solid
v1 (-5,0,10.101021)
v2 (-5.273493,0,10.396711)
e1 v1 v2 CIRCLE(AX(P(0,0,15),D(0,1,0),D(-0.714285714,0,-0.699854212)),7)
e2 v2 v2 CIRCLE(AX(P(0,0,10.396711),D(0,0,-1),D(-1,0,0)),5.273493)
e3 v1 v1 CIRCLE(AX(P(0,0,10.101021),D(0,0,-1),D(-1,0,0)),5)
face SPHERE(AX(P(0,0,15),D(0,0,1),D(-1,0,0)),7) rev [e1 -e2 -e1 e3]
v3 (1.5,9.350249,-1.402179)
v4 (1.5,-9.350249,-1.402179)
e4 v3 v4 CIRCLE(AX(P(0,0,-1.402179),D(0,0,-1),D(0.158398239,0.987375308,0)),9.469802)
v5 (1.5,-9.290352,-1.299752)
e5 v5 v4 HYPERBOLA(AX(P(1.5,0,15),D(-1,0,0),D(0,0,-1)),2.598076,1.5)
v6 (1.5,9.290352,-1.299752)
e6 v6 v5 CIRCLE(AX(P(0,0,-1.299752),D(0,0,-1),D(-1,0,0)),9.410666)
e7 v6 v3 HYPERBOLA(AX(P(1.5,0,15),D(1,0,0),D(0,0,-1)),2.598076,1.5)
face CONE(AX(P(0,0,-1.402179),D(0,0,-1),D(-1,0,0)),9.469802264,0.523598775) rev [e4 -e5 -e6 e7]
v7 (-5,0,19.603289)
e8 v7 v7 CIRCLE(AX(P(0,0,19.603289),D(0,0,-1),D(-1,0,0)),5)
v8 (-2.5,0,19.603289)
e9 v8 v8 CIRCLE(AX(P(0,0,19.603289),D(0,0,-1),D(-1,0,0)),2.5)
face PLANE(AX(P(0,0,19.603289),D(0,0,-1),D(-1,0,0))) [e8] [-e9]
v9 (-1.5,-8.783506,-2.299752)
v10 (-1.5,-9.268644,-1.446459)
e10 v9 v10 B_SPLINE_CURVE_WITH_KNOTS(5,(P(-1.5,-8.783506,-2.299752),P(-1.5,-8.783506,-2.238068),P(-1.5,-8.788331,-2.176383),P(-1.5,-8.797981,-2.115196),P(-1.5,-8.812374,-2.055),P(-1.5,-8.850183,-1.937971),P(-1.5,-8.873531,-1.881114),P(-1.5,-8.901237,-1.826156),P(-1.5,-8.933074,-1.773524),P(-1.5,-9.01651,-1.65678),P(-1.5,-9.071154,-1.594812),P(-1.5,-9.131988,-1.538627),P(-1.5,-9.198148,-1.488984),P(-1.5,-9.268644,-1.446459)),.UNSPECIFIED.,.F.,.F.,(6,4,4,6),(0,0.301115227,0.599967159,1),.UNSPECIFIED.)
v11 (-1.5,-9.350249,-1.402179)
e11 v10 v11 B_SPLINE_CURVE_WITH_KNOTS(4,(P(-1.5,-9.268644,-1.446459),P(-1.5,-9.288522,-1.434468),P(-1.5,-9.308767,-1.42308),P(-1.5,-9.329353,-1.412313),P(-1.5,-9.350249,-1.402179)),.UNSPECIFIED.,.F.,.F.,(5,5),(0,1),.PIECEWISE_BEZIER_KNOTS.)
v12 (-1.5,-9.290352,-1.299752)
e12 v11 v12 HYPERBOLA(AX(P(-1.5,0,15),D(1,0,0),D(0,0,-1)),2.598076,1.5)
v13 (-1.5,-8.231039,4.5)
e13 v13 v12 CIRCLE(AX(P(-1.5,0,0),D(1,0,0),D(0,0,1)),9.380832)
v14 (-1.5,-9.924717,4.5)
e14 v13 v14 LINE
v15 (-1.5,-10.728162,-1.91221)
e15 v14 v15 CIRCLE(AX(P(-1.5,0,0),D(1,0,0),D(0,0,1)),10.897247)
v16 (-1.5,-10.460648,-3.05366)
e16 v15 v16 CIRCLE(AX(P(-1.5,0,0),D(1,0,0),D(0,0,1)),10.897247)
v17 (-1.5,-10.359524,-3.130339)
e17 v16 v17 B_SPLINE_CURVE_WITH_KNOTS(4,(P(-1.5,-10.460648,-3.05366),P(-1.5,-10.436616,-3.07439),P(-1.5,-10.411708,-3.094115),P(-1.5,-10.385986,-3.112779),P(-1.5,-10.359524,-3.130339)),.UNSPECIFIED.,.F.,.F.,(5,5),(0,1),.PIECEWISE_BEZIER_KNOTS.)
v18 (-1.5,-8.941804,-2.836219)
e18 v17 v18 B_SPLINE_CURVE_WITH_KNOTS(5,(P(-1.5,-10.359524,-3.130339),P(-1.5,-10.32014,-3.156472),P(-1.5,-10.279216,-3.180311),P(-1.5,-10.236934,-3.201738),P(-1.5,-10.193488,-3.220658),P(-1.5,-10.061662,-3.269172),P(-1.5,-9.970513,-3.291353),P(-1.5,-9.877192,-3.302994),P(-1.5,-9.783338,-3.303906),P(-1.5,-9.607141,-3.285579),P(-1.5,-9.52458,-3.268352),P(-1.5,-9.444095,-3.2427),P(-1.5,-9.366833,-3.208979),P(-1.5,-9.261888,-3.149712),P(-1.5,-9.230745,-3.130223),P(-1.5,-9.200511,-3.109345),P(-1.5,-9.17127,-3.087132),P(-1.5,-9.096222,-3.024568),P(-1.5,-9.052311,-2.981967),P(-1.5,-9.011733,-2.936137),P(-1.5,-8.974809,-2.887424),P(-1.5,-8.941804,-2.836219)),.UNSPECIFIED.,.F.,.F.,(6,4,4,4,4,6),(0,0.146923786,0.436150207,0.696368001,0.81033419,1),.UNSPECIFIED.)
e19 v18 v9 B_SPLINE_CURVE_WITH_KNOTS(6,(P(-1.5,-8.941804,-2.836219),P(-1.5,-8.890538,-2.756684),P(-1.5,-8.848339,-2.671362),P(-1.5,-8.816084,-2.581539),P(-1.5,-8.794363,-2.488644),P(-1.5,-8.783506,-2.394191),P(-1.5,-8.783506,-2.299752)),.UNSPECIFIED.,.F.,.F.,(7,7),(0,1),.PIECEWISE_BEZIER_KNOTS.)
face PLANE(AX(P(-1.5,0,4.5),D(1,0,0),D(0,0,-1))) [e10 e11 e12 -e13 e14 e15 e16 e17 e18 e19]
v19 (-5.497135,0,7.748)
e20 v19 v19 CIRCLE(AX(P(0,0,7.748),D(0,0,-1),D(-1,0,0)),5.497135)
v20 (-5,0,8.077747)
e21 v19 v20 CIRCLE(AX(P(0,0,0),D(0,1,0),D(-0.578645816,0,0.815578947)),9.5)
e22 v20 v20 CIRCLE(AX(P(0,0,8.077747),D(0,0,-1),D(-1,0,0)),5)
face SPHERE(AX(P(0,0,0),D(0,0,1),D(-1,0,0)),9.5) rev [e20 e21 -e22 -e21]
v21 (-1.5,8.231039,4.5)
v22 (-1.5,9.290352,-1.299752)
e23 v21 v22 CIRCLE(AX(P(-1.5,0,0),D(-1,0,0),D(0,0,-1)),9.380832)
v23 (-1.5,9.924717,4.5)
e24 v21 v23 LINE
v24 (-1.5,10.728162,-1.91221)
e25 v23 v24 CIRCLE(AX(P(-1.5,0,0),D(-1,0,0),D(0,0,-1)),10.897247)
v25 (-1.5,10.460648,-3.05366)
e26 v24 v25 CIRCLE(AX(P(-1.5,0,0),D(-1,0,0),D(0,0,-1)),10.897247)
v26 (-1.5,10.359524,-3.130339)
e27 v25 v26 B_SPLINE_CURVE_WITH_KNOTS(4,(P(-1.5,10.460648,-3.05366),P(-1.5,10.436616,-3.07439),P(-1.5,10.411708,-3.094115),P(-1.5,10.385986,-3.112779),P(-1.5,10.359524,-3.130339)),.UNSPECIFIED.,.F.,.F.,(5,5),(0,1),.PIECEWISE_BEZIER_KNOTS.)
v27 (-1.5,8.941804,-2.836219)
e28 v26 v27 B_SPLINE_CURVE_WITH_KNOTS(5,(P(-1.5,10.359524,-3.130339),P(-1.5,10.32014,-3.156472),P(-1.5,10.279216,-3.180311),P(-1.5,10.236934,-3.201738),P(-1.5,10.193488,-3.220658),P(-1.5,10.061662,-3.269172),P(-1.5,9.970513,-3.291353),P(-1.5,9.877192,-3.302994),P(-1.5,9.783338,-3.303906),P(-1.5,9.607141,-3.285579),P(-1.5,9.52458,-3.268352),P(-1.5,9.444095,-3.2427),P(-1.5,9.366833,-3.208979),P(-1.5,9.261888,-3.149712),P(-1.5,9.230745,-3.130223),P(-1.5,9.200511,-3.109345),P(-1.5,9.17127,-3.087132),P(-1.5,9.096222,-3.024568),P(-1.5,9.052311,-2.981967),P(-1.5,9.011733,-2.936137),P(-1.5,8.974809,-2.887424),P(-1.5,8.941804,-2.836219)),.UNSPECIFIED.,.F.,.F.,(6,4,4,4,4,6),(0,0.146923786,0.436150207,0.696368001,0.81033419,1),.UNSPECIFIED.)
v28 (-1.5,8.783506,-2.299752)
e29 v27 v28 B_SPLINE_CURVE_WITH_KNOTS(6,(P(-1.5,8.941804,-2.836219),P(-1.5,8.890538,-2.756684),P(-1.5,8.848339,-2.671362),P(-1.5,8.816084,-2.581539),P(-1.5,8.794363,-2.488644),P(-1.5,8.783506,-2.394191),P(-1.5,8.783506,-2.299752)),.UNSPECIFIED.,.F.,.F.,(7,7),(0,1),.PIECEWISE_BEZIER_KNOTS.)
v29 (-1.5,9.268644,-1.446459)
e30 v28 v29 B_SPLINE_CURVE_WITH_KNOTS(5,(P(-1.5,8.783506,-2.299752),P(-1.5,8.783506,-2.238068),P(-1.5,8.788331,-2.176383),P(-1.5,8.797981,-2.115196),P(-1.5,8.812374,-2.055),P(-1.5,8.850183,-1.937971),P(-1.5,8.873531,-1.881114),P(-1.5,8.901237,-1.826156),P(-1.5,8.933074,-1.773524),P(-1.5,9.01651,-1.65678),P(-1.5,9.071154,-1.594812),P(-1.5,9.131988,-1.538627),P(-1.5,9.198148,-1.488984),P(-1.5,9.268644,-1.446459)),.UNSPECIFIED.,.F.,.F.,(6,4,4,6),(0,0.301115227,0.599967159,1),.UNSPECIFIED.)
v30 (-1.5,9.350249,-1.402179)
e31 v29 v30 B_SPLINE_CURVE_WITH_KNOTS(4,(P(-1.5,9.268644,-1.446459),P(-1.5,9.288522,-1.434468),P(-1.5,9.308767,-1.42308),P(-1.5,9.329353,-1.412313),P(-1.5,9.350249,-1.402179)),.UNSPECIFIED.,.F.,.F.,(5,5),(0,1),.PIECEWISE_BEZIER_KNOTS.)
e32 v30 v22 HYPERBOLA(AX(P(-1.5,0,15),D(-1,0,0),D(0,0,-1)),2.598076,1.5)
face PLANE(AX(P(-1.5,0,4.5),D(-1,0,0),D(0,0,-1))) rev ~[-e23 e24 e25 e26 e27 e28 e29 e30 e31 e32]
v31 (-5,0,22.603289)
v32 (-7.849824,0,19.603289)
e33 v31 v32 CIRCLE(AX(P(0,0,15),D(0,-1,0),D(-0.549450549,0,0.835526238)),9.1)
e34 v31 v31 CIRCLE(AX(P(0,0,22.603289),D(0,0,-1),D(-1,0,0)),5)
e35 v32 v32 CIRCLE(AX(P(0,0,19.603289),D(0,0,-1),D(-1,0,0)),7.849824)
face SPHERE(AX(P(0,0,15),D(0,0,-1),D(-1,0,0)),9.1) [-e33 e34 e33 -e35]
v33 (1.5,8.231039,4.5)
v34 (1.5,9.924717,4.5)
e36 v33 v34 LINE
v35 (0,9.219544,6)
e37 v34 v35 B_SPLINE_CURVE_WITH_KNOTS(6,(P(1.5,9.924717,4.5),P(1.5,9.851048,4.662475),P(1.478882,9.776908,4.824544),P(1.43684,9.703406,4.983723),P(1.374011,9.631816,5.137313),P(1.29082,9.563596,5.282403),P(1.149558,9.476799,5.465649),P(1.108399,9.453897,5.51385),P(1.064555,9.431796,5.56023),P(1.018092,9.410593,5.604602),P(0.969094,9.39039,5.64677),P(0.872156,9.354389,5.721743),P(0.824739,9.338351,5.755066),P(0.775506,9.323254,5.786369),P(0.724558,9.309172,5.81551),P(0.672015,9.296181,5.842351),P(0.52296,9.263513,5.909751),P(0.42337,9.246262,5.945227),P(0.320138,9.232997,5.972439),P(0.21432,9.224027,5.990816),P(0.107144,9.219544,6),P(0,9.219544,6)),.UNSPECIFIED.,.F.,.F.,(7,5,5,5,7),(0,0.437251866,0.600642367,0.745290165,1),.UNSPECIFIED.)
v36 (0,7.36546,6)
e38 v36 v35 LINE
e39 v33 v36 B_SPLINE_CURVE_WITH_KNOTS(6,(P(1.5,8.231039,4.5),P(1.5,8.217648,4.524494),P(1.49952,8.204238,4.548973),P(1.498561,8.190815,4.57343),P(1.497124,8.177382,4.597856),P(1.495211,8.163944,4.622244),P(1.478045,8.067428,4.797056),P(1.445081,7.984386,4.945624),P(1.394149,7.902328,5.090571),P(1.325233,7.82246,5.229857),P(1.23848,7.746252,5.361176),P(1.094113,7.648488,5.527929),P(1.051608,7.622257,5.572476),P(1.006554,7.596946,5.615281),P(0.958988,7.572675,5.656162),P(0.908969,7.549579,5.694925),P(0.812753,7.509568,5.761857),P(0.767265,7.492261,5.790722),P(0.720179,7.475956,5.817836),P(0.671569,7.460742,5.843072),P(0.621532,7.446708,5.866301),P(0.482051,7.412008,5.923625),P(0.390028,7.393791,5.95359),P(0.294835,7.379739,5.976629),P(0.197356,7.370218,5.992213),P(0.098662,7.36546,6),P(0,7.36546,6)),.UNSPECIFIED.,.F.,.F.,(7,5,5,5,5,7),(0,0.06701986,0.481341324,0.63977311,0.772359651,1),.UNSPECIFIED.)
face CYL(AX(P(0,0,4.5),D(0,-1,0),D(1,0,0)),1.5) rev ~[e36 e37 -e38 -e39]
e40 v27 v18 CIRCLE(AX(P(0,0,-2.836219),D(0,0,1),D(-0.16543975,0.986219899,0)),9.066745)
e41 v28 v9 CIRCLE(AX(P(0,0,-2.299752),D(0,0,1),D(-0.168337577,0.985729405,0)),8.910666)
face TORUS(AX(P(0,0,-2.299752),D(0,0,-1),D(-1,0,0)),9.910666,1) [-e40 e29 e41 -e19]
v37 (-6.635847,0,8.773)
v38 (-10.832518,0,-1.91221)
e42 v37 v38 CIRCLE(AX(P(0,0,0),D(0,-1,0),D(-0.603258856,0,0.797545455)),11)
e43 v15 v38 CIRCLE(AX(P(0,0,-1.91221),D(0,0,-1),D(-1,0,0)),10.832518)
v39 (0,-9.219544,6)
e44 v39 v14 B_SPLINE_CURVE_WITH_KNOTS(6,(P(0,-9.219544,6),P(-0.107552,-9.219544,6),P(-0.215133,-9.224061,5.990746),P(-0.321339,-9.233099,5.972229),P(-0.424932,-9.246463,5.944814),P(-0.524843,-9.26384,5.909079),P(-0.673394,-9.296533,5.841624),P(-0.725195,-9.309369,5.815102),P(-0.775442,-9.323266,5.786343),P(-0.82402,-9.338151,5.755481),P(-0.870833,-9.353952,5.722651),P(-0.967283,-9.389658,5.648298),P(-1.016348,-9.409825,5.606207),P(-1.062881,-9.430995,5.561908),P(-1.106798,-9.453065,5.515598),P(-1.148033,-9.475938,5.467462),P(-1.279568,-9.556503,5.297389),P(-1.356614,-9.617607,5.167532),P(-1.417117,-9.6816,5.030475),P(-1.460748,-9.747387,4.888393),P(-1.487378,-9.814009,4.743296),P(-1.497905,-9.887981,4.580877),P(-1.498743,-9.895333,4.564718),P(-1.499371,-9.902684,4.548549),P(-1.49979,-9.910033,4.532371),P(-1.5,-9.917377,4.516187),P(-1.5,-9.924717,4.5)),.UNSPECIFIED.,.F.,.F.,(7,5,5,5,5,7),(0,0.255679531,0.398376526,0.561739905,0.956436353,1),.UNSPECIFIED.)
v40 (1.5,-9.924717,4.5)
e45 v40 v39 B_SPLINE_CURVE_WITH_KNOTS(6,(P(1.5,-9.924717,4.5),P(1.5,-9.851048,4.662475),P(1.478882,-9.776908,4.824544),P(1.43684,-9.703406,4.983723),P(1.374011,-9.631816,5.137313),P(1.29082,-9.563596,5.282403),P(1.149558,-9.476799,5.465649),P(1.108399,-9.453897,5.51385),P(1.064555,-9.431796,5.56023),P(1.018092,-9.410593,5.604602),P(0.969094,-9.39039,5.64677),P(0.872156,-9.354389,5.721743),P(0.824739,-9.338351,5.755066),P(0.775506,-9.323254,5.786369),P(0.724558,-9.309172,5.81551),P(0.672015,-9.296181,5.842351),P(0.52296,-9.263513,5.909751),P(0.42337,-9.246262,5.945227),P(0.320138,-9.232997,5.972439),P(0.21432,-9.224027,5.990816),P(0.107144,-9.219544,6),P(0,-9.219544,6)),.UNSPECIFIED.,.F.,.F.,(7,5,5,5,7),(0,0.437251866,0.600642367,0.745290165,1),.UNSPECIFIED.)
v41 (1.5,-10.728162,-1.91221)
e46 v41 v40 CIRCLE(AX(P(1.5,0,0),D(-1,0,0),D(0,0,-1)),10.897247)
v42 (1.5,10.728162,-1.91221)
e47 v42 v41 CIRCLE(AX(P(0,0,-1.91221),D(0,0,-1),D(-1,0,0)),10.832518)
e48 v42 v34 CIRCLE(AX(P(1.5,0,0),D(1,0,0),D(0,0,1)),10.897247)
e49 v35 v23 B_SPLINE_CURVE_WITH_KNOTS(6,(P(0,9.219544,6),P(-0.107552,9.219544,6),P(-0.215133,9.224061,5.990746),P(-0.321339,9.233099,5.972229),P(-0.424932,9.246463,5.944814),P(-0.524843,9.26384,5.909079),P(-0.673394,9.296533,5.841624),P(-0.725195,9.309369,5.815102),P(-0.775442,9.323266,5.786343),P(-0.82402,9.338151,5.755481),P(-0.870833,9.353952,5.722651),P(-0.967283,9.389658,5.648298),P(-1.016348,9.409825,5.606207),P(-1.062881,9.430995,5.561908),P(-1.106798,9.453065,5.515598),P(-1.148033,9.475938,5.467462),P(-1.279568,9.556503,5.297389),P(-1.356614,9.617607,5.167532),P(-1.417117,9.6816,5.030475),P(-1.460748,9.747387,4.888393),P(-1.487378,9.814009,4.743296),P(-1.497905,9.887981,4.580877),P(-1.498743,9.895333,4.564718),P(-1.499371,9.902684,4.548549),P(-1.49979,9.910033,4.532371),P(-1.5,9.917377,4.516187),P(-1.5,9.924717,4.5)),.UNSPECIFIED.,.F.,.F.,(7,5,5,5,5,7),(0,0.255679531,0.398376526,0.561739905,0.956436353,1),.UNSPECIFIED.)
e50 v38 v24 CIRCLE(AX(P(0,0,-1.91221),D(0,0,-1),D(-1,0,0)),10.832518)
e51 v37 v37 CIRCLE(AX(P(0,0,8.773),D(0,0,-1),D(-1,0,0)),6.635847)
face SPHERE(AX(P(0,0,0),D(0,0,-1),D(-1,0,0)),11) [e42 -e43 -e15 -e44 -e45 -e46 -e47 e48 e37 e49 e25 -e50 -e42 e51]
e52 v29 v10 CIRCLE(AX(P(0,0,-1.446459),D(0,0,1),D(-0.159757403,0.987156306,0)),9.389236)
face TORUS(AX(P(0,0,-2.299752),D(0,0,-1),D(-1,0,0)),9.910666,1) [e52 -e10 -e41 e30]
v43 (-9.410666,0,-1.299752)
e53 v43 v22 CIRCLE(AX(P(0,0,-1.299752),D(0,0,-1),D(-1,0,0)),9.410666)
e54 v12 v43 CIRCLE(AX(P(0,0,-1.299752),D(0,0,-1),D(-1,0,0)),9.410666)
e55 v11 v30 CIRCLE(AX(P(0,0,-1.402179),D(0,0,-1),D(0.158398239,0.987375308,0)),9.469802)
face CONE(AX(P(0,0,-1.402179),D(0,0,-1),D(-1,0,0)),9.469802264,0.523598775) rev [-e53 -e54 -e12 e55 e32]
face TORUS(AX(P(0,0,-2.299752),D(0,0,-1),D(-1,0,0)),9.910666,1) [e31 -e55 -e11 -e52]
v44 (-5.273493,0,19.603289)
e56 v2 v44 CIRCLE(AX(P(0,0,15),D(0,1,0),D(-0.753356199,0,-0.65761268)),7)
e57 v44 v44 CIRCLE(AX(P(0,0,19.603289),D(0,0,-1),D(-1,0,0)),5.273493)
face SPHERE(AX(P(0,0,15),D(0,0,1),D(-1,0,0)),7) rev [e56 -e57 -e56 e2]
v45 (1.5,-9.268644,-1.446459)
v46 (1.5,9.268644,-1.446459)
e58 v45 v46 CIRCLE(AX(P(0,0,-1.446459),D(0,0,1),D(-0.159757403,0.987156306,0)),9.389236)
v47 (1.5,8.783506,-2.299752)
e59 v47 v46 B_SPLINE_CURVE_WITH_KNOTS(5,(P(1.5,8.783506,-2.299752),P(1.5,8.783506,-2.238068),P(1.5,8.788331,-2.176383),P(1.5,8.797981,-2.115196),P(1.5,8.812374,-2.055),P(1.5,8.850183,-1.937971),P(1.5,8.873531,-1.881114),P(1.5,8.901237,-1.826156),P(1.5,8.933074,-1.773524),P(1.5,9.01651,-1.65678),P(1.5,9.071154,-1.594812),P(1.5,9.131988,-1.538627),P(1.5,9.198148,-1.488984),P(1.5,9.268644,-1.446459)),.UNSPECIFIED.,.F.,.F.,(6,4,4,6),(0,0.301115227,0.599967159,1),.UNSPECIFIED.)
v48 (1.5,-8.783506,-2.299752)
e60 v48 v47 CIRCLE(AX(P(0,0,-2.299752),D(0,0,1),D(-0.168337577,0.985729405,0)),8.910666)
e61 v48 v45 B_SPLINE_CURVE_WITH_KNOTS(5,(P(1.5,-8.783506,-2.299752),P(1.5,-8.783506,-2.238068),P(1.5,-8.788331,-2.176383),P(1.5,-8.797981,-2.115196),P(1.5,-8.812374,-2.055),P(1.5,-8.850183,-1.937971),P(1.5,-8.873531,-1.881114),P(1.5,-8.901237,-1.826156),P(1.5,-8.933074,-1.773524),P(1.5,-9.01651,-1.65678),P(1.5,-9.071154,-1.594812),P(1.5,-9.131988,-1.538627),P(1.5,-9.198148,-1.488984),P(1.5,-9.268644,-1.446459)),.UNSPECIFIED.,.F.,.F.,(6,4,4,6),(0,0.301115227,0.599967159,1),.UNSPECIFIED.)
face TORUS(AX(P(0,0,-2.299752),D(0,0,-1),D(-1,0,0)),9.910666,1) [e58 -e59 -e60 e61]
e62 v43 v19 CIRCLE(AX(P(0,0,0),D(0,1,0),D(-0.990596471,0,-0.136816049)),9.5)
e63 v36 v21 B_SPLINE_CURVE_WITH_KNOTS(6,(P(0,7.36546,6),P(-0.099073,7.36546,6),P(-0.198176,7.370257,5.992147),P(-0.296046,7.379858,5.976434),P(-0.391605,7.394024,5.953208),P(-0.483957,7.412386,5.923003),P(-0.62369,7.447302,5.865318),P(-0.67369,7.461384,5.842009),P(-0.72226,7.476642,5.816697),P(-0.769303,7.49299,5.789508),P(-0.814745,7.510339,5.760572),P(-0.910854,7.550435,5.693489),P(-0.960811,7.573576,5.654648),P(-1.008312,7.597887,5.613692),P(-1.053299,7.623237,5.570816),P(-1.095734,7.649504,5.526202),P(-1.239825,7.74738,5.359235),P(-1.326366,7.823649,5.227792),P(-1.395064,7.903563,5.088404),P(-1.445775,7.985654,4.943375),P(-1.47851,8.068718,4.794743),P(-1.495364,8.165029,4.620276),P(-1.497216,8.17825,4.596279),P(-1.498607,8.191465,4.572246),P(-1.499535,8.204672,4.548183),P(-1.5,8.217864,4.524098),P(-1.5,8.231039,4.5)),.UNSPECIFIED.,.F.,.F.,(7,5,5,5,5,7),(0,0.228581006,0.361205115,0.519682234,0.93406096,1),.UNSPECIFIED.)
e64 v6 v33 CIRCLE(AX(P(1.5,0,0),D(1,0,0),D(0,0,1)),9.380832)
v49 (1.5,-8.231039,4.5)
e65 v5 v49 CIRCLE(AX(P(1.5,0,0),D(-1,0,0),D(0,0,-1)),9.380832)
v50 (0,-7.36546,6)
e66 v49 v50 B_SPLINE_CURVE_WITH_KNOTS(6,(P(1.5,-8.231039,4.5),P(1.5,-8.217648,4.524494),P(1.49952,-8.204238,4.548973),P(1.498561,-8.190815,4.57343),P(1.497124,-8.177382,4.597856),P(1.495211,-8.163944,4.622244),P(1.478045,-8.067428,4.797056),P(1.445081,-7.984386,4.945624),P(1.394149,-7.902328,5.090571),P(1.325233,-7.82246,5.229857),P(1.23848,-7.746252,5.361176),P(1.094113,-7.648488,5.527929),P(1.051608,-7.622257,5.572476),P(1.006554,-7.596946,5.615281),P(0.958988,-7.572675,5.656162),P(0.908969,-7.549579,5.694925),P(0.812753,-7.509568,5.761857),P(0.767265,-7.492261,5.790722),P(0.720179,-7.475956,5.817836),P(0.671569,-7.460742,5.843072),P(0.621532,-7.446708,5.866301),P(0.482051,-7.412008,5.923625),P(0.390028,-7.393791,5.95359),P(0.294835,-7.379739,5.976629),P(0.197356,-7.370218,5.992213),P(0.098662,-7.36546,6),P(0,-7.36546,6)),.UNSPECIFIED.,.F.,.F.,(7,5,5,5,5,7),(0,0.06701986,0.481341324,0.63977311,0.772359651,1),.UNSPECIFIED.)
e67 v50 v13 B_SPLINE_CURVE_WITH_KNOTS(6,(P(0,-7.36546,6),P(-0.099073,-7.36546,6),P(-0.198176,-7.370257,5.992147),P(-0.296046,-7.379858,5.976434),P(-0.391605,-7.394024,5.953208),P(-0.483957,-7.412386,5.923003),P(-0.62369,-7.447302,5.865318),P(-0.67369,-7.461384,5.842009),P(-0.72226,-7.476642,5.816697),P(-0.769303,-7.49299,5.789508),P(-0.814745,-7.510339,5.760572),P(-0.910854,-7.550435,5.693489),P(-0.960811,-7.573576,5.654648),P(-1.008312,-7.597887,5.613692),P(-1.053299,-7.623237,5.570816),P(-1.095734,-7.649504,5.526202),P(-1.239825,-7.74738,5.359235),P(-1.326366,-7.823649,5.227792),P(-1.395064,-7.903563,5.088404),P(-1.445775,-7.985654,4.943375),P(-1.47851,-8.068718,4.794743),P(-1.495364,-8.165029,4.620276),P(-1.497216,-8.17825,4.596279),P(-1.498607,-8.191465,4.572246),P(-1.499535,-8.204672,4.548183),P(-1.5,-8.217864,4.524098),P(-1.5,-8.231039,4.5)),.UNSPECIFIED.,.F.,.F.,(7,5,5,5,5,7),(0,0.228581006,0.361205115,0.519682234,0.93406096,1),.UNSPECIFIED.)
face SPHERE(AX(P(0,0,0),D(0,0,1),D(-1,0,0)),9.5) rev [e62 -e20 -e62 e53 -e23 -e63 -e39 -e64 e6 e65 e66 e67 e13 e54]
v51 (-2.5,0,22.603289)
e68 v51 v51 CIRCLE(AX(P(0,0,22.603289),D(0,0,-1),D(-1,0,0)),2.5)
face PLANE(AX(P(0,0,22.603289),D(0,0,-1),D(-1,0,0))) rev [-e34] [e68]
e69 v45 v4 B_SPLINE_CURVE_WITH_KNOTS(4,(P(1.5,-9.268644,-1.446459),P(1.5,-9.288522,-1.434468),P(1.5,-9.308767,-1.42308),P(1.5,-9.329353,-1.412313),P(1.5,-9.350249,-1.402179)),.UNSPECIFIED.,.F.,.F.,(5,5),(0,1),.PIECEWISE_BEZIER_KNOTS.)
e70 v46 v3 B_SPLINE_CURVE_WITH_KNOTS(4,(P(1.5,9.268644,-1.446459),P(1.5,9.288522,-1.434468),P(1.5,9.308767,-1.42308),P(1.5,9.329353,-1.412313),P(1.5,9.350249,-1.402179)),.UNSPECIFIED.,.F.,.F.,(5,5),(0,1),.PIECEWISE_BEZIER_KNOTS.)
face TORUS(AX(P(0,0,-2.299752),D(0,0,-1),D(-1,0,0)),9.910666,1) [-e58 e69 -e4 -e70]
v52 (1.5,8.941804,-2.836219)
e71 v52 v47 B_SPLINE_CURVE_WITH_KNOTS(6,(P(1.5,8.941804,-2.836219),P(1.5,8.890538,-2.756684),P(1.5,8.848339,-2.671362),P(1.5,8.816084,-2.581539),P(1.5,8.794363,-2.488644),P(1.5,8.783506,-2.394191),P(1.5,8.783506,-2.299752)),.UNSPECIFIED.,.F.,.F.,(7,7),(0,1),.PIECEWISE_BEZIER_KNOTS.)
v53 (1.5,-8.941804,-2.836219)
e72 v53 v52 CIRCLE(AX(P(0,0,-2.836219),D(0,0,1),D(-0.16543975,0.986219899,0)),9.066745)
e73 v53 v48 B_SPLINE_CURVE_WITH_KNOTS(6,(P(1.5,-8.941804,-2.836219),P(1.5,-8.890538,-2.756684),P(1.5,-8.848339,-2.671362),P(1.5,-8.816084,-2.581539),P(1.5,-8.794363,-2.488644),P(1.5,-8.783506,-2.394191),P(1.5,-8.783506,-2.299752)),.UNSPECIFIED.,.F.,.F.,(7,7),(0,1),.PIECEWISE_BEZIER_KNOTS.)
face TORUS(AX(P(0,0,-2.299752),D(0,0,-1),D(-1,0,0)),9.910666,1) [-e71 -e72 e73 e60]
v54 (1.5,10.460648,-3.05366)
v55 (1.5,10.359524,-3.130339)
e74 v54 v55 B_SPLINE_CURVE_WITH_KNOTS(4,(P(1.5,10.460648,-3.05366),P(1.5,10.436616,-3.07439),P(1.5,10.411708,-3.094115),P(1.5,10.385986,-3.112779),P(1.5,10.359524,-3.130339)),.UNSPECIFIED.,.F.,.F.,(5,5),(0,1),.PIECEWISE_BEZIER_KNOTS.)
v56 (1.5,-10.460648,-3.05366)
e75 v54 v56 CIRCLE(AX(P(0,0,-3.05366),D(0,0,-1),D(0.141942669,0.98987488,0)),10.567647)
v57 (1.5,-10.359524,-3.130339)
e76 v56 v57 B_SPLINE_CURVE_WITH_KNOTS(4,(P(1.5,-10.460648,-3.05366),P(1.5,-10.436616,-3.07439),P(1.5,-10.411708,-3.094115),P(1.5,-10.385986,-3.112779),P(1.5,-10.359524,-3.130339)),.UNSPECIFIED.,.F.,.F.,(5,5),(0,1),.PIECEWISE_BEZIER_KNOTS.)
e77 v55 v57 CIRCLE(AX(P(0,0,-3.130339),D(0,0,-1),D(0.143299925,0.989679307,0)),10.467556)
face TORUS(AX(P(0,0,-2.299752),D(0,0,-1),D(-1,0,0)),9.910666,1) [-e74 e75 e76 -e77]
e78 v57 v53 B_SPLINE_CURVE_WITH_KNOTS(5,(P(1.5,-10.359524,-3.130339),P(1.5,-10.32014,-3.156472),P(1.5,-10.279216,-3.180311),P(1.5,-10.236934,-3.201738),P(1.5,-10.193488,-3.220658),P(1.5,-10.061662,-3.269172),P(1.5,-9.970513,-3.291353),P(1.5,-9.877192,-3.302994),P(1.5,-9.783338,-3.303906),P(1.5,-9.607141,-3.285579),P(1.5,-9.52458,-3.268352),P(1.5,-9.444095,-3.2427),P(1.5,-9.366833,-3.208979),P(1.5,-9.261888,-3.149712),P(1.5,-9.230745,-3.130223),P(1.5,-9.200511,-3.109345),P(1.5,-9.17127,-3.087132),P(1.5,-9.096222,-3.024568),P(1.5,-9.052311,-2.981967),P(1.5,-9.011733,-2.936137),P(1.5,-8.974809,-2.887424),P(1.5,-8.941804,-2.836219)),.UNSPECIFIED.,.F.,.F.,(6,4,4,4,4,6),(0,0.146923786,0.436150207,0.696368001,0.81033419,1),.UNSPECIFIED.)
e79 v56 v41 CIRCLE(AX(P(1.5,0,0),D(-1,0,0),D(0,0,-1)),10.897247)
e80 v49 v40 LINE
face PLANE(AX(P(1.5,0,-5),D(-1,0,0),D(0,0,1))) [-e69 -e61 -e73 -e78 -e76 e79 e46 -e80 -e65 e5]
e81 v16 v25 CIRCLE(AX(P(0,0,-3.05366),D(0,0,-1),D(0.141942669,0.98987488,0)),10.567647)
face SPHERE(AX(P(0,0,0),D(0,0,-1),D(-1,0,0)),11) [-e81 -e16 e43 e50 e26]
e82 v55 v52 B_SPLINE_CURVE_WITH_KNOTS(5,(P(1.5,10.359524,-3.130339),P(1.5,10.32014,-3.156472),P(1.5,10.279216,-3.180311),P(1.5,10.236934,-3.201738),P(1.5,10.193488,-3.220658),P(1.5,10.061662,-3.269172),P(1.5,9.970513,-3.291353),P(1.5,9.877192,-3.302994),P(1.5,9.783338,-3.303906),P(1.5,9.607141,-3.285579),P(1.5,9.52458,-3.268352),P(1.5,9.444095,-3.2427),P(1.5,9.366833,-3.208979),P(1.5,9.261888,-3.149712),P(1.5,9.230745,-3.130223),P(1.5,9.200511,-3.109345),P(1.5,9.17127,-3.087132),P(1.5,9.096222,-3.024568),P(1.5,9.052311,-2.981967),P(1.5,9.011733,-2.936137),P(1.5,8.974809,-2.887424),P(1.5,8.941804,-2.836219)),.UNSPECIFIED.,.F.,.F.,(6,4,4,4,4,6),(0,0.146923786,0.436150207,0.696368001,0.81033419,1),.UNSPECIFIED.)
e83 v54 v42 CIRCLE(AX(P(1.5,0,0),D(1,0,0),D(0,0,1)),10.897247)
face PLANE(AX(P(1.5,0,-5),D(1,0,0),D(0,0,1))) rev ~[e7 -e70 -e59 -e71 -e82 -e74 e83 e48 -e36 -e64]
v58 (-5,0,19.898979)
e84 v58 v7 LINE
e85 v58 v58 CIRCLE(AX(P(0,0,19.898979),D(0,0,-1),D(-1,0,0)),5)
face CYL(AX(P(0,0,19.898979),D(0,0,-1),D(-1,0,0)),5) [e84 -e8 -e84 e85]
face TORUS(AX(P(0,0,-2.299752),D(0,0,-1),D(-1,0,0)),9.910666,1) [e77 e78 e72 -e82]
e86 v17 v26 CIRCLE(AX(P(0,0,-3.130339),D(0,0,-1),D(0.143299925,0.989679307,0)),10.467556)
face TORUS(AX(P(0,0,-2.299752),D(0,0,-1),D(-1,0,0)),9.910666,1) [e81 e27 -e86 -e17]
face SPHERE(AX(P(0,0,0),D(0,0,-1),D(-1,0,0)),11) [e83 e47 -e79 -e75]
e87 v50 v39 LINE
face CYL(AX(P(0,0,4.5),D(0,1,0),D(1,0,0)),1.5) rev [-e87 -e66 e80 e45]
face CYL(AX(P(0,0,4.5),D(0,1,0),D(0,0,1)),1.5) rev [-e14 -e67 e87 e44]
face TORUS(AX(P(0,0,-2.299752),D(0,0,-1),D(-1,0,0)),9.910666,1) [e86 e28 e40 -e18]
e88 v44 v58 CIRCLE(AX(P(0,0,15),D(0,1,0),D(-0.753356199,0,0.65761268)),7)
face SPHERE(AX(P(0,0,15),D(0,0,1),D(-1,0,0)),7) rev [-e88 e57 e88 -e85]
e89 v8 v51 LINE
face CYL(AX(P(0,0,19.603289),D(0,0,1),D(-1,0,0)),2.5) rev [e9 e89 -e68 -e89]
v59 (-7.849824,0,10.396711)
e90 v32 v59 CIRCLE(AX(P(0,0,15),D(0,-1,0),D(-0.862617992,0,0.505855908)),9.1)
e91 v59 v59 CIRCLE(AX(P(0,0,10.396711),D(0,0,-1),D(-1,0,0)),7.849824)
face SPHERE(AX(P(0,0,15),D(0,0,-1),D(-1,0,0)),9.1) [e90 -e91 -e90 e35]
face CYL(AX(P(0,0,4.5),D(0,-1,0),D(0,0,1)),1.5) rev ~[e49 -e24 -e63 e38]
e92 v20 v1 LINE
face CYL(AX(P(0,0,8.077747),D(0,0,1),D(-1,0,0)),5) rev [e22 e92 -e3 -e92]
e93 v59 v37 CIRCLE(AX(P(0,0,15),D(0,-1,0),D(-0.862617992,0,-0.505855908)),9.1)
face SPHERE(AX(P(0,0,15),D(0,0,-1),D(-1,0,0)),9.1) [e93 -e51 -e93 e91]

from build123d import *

# Parameters (mm, degrees)
F3_DEPTH = 25
F4_DEPTH = 25


with BuildPart() as f1:
    # F0 (on Front) → F1 (revolve)
    with BuildSketch(Plane.XZ):
        with BuildLine():
            Line((-9.4698022635, -1.4021786581), (-10.4675560918, -3.1303389822))
            ThreePointArc((-10.4675560918, -3.1303389822), (-9.7051829164, -3.2784130369), (-9.0667448452, -2.8362189465))
            ThreePointArc((-9.0667448452, -2.8362189465), (-9.2541162851, -2.1474011691), (-9.3892362686, -1.4464585345))
            ThreePointArc((-9.3892362686, -1.4464585345), (-9.429010152, -1.4233922774), (-9.4698022635, -1.4021786581))
        make_face()
        with BuildLine():
            ThreePointArc((-10.8325183142, -1.9122099708), (-10.7152925407, -2.4864645116), (-10.5676468345, -3.0536601613))
            ThreePointArc((-10.5676468345, -3.0536601613), (-10.5188111866, -3.0935786534), (-10.4675560918, -3.1303389822))
            Line((-10.4675560918, -3.1303389822), (-9.4698022635, -1.4021786581))
            ThreePointArc((-9.4698022635, -1.4021786581), (-10.2611950183, -1.36320042), (-10.8325183142, -1.9122099708))
        make_face()
        with BuildLine():
            ThreePointArc((-9.3892362686, -1.4464585345), (-9.2541162851, -2.1474011691), (-9.0667448452, -2.8362189465))
            ThreePointArc((-9.0667448452, -2.8362189465), (-8.9504785695, -2.5791074131), (-8.9106664758, -2.2997524692))
            ThreePointArc((-8.9106664758, -2.2997524692), (-9.0384766435, -1.8105849146), (-9.3892362686, -1.4464585345))
        make_face()
        with BuildLine():
            ThreePointArc((-6.6358474214, 8.773), (-10.2386218994, 4.0212711425), (-10.8325183142, -1.9122099708))
            ThreePointArc((-10.8325183142, -1.9122099708), (-10.2611950183, -1.36320042), (-9.4698022635, -1.4021786581))
            Line((-9.4698022635, -1.4021786581), (-9.4106664758, -1.2997524692))
            ThreePointArc((-9.4106664758, -1.2997524692), (-8.7192943688, 3.7714593609), (-5.4971352539, 7.748))
            ThreePointArc((-5.4971352539, 7.748), (-6.0881009683, 8.2364930251), (-6.6358474214, 8.773))
        make_face()
        with BuildLine():
            ThreePointArc((-5, 9.7979589711), (-5.8404513119, 9.3214338207), (-6.6358474214, 8.773))
            ThreePointArc((-6.6358474214, 8.773), (-6.0881009683, 8.2364930251), (-5.4971352539, 7.748))
            ThreePointArc((-5.4971352539, 7.748), (-5.2511565812, 7.9167767784), (-5, 8.0777472107))
            Line((-5, 8.0777472107), (-5, 9.7979589711))
        make_face()
        with BuildLine():
            Line((-7.8498237288, 19.6032887621), (-7.8498237288, 10.3967112379))
            Line((-7.8498237288, 10.3967112379), (-5.2734933936, 10.3967112379))
            ThreePointArc((-5.2734933936, 10.3967112379), (-7, 15), (-5.2734933936, 19.6032887621))
            Line((-5.2734933936, 19.6032887621), (-7.8498237288, 19.6032887621))
        make_face()
        with BuildLine():
            ThreePointArc((-7.8498237288, 19.6032887621), (-9.1, 15), (-7.8498237288, 10.3967112379))
            Line((-7.8498237288, 10.3967112379), (-7.8498237288, 19.6032887621))
        make_face()
        with BuildLine():
            Line((-5, 19.8989794856), (-5, 22.6032887621))
            ThreePointArc((-5, 22.6032887621), (-6.5976884183, 21.2674163365), (-7.8498237288, 19.6032887621))
            Line((-7.8498237288, 19.6032887621), (-5.2734933936, 19.6032887621))
            ThreePointArc((-5.2734933936, 19.6032887621), (-5.138873892, 19.7531016318), (-5, 19.8989794856))
        make_face()
        with BuildLine():
            Line((-2.5, 21.5383484153), (-2.5, 22.6032887621))
            Line((-2.5, 22.6032887621), (-5, 22.6032887621))
            Line((-5, 22.6032887621), (-5, 19.8989794856))
            ThreePointArc((-5, 19.8989794856), (-3.838539126, 20.8536840859), (-2.5, 21.5383484153))
        make_face()
        with BuildLine():
            Line((-5, 19.6032887621), (-2.5, 19.6032887621))
            Line((-2.5, 19.6032887621), (-2.5, 21.5383484153))
            ThreePointArc((-2.5, 21.5383484153), (-3.838539126, 20.8536840859), (-5, 19.8989794856))
            Line((-5, 19.8989794856), (-5, 19.6032887621))
        make_face()
        with BuildLine():
            ThreePointArc((-7.8498237288, 10.3967112379), (-7.2881943384, 9.5509428993), (-6.6358474214, 8.773))
            ThreePointArc((-6.6358474214, 8.773), (-5.8404513119, 9.3214338207), (-5, 9.7979589711))
            Line((-5, 9.7979589711), (-5, 10.1010205144))
            ThreePointArc((-5, 10.1010205144), (-5.138873892, 10.2468983682), (-5.2734933936, 10.3967112379))
            Line((-5.2734933936, 10.3967112379), (-7.8498237288, 10.3967112379))
        make_face()
    revolve(axis=Axis((0, 0, -3.9154533297), (0, 0, -1)))

    # F2 (on Front) → F3 (cut)
    with BuildSketch(Plane.XZ):
        with BuildLine():
            Line((-1.5, -5), (1.5, -5))
            Line((1.5, -5), (1.5, 4.5))
            ThreePointArc((1.5, 4.5), (1.0606601718, 5.5606601718), (0, 6))
            ThreePointArc((0, 6), (-1.0606601718, 5.5606601718), (-1.5, 4.5))
            Line((-1.5, 4.5), (-1.5, -5))
        make_face()
    extrude(amount=-F3_DEPTH, mode=Mode.SUBTRACT)

    # F2 (on Front) → F4 (cut)
    with BuildSketch(Plane.XZ):
        with BuildLine():
            Line((-1.5, -5), (1.5, -5))
            Line((1.5, -5), (1.5, 4.5))
            ThreePointArc((1.5, 4.5), (1.0606601718, 5.5606601718), (0, 6))
            ThreePointArc((0, 6), (-1.0606601718, 5.5606601718), (-1.5, 4.5))
            Line((-1.5, 4.5), (-1.5, -5))
        make_face()
    extrude(amount=F4_DEPTH, mode=Mode.SUBTRACT)


solid = f1.part
